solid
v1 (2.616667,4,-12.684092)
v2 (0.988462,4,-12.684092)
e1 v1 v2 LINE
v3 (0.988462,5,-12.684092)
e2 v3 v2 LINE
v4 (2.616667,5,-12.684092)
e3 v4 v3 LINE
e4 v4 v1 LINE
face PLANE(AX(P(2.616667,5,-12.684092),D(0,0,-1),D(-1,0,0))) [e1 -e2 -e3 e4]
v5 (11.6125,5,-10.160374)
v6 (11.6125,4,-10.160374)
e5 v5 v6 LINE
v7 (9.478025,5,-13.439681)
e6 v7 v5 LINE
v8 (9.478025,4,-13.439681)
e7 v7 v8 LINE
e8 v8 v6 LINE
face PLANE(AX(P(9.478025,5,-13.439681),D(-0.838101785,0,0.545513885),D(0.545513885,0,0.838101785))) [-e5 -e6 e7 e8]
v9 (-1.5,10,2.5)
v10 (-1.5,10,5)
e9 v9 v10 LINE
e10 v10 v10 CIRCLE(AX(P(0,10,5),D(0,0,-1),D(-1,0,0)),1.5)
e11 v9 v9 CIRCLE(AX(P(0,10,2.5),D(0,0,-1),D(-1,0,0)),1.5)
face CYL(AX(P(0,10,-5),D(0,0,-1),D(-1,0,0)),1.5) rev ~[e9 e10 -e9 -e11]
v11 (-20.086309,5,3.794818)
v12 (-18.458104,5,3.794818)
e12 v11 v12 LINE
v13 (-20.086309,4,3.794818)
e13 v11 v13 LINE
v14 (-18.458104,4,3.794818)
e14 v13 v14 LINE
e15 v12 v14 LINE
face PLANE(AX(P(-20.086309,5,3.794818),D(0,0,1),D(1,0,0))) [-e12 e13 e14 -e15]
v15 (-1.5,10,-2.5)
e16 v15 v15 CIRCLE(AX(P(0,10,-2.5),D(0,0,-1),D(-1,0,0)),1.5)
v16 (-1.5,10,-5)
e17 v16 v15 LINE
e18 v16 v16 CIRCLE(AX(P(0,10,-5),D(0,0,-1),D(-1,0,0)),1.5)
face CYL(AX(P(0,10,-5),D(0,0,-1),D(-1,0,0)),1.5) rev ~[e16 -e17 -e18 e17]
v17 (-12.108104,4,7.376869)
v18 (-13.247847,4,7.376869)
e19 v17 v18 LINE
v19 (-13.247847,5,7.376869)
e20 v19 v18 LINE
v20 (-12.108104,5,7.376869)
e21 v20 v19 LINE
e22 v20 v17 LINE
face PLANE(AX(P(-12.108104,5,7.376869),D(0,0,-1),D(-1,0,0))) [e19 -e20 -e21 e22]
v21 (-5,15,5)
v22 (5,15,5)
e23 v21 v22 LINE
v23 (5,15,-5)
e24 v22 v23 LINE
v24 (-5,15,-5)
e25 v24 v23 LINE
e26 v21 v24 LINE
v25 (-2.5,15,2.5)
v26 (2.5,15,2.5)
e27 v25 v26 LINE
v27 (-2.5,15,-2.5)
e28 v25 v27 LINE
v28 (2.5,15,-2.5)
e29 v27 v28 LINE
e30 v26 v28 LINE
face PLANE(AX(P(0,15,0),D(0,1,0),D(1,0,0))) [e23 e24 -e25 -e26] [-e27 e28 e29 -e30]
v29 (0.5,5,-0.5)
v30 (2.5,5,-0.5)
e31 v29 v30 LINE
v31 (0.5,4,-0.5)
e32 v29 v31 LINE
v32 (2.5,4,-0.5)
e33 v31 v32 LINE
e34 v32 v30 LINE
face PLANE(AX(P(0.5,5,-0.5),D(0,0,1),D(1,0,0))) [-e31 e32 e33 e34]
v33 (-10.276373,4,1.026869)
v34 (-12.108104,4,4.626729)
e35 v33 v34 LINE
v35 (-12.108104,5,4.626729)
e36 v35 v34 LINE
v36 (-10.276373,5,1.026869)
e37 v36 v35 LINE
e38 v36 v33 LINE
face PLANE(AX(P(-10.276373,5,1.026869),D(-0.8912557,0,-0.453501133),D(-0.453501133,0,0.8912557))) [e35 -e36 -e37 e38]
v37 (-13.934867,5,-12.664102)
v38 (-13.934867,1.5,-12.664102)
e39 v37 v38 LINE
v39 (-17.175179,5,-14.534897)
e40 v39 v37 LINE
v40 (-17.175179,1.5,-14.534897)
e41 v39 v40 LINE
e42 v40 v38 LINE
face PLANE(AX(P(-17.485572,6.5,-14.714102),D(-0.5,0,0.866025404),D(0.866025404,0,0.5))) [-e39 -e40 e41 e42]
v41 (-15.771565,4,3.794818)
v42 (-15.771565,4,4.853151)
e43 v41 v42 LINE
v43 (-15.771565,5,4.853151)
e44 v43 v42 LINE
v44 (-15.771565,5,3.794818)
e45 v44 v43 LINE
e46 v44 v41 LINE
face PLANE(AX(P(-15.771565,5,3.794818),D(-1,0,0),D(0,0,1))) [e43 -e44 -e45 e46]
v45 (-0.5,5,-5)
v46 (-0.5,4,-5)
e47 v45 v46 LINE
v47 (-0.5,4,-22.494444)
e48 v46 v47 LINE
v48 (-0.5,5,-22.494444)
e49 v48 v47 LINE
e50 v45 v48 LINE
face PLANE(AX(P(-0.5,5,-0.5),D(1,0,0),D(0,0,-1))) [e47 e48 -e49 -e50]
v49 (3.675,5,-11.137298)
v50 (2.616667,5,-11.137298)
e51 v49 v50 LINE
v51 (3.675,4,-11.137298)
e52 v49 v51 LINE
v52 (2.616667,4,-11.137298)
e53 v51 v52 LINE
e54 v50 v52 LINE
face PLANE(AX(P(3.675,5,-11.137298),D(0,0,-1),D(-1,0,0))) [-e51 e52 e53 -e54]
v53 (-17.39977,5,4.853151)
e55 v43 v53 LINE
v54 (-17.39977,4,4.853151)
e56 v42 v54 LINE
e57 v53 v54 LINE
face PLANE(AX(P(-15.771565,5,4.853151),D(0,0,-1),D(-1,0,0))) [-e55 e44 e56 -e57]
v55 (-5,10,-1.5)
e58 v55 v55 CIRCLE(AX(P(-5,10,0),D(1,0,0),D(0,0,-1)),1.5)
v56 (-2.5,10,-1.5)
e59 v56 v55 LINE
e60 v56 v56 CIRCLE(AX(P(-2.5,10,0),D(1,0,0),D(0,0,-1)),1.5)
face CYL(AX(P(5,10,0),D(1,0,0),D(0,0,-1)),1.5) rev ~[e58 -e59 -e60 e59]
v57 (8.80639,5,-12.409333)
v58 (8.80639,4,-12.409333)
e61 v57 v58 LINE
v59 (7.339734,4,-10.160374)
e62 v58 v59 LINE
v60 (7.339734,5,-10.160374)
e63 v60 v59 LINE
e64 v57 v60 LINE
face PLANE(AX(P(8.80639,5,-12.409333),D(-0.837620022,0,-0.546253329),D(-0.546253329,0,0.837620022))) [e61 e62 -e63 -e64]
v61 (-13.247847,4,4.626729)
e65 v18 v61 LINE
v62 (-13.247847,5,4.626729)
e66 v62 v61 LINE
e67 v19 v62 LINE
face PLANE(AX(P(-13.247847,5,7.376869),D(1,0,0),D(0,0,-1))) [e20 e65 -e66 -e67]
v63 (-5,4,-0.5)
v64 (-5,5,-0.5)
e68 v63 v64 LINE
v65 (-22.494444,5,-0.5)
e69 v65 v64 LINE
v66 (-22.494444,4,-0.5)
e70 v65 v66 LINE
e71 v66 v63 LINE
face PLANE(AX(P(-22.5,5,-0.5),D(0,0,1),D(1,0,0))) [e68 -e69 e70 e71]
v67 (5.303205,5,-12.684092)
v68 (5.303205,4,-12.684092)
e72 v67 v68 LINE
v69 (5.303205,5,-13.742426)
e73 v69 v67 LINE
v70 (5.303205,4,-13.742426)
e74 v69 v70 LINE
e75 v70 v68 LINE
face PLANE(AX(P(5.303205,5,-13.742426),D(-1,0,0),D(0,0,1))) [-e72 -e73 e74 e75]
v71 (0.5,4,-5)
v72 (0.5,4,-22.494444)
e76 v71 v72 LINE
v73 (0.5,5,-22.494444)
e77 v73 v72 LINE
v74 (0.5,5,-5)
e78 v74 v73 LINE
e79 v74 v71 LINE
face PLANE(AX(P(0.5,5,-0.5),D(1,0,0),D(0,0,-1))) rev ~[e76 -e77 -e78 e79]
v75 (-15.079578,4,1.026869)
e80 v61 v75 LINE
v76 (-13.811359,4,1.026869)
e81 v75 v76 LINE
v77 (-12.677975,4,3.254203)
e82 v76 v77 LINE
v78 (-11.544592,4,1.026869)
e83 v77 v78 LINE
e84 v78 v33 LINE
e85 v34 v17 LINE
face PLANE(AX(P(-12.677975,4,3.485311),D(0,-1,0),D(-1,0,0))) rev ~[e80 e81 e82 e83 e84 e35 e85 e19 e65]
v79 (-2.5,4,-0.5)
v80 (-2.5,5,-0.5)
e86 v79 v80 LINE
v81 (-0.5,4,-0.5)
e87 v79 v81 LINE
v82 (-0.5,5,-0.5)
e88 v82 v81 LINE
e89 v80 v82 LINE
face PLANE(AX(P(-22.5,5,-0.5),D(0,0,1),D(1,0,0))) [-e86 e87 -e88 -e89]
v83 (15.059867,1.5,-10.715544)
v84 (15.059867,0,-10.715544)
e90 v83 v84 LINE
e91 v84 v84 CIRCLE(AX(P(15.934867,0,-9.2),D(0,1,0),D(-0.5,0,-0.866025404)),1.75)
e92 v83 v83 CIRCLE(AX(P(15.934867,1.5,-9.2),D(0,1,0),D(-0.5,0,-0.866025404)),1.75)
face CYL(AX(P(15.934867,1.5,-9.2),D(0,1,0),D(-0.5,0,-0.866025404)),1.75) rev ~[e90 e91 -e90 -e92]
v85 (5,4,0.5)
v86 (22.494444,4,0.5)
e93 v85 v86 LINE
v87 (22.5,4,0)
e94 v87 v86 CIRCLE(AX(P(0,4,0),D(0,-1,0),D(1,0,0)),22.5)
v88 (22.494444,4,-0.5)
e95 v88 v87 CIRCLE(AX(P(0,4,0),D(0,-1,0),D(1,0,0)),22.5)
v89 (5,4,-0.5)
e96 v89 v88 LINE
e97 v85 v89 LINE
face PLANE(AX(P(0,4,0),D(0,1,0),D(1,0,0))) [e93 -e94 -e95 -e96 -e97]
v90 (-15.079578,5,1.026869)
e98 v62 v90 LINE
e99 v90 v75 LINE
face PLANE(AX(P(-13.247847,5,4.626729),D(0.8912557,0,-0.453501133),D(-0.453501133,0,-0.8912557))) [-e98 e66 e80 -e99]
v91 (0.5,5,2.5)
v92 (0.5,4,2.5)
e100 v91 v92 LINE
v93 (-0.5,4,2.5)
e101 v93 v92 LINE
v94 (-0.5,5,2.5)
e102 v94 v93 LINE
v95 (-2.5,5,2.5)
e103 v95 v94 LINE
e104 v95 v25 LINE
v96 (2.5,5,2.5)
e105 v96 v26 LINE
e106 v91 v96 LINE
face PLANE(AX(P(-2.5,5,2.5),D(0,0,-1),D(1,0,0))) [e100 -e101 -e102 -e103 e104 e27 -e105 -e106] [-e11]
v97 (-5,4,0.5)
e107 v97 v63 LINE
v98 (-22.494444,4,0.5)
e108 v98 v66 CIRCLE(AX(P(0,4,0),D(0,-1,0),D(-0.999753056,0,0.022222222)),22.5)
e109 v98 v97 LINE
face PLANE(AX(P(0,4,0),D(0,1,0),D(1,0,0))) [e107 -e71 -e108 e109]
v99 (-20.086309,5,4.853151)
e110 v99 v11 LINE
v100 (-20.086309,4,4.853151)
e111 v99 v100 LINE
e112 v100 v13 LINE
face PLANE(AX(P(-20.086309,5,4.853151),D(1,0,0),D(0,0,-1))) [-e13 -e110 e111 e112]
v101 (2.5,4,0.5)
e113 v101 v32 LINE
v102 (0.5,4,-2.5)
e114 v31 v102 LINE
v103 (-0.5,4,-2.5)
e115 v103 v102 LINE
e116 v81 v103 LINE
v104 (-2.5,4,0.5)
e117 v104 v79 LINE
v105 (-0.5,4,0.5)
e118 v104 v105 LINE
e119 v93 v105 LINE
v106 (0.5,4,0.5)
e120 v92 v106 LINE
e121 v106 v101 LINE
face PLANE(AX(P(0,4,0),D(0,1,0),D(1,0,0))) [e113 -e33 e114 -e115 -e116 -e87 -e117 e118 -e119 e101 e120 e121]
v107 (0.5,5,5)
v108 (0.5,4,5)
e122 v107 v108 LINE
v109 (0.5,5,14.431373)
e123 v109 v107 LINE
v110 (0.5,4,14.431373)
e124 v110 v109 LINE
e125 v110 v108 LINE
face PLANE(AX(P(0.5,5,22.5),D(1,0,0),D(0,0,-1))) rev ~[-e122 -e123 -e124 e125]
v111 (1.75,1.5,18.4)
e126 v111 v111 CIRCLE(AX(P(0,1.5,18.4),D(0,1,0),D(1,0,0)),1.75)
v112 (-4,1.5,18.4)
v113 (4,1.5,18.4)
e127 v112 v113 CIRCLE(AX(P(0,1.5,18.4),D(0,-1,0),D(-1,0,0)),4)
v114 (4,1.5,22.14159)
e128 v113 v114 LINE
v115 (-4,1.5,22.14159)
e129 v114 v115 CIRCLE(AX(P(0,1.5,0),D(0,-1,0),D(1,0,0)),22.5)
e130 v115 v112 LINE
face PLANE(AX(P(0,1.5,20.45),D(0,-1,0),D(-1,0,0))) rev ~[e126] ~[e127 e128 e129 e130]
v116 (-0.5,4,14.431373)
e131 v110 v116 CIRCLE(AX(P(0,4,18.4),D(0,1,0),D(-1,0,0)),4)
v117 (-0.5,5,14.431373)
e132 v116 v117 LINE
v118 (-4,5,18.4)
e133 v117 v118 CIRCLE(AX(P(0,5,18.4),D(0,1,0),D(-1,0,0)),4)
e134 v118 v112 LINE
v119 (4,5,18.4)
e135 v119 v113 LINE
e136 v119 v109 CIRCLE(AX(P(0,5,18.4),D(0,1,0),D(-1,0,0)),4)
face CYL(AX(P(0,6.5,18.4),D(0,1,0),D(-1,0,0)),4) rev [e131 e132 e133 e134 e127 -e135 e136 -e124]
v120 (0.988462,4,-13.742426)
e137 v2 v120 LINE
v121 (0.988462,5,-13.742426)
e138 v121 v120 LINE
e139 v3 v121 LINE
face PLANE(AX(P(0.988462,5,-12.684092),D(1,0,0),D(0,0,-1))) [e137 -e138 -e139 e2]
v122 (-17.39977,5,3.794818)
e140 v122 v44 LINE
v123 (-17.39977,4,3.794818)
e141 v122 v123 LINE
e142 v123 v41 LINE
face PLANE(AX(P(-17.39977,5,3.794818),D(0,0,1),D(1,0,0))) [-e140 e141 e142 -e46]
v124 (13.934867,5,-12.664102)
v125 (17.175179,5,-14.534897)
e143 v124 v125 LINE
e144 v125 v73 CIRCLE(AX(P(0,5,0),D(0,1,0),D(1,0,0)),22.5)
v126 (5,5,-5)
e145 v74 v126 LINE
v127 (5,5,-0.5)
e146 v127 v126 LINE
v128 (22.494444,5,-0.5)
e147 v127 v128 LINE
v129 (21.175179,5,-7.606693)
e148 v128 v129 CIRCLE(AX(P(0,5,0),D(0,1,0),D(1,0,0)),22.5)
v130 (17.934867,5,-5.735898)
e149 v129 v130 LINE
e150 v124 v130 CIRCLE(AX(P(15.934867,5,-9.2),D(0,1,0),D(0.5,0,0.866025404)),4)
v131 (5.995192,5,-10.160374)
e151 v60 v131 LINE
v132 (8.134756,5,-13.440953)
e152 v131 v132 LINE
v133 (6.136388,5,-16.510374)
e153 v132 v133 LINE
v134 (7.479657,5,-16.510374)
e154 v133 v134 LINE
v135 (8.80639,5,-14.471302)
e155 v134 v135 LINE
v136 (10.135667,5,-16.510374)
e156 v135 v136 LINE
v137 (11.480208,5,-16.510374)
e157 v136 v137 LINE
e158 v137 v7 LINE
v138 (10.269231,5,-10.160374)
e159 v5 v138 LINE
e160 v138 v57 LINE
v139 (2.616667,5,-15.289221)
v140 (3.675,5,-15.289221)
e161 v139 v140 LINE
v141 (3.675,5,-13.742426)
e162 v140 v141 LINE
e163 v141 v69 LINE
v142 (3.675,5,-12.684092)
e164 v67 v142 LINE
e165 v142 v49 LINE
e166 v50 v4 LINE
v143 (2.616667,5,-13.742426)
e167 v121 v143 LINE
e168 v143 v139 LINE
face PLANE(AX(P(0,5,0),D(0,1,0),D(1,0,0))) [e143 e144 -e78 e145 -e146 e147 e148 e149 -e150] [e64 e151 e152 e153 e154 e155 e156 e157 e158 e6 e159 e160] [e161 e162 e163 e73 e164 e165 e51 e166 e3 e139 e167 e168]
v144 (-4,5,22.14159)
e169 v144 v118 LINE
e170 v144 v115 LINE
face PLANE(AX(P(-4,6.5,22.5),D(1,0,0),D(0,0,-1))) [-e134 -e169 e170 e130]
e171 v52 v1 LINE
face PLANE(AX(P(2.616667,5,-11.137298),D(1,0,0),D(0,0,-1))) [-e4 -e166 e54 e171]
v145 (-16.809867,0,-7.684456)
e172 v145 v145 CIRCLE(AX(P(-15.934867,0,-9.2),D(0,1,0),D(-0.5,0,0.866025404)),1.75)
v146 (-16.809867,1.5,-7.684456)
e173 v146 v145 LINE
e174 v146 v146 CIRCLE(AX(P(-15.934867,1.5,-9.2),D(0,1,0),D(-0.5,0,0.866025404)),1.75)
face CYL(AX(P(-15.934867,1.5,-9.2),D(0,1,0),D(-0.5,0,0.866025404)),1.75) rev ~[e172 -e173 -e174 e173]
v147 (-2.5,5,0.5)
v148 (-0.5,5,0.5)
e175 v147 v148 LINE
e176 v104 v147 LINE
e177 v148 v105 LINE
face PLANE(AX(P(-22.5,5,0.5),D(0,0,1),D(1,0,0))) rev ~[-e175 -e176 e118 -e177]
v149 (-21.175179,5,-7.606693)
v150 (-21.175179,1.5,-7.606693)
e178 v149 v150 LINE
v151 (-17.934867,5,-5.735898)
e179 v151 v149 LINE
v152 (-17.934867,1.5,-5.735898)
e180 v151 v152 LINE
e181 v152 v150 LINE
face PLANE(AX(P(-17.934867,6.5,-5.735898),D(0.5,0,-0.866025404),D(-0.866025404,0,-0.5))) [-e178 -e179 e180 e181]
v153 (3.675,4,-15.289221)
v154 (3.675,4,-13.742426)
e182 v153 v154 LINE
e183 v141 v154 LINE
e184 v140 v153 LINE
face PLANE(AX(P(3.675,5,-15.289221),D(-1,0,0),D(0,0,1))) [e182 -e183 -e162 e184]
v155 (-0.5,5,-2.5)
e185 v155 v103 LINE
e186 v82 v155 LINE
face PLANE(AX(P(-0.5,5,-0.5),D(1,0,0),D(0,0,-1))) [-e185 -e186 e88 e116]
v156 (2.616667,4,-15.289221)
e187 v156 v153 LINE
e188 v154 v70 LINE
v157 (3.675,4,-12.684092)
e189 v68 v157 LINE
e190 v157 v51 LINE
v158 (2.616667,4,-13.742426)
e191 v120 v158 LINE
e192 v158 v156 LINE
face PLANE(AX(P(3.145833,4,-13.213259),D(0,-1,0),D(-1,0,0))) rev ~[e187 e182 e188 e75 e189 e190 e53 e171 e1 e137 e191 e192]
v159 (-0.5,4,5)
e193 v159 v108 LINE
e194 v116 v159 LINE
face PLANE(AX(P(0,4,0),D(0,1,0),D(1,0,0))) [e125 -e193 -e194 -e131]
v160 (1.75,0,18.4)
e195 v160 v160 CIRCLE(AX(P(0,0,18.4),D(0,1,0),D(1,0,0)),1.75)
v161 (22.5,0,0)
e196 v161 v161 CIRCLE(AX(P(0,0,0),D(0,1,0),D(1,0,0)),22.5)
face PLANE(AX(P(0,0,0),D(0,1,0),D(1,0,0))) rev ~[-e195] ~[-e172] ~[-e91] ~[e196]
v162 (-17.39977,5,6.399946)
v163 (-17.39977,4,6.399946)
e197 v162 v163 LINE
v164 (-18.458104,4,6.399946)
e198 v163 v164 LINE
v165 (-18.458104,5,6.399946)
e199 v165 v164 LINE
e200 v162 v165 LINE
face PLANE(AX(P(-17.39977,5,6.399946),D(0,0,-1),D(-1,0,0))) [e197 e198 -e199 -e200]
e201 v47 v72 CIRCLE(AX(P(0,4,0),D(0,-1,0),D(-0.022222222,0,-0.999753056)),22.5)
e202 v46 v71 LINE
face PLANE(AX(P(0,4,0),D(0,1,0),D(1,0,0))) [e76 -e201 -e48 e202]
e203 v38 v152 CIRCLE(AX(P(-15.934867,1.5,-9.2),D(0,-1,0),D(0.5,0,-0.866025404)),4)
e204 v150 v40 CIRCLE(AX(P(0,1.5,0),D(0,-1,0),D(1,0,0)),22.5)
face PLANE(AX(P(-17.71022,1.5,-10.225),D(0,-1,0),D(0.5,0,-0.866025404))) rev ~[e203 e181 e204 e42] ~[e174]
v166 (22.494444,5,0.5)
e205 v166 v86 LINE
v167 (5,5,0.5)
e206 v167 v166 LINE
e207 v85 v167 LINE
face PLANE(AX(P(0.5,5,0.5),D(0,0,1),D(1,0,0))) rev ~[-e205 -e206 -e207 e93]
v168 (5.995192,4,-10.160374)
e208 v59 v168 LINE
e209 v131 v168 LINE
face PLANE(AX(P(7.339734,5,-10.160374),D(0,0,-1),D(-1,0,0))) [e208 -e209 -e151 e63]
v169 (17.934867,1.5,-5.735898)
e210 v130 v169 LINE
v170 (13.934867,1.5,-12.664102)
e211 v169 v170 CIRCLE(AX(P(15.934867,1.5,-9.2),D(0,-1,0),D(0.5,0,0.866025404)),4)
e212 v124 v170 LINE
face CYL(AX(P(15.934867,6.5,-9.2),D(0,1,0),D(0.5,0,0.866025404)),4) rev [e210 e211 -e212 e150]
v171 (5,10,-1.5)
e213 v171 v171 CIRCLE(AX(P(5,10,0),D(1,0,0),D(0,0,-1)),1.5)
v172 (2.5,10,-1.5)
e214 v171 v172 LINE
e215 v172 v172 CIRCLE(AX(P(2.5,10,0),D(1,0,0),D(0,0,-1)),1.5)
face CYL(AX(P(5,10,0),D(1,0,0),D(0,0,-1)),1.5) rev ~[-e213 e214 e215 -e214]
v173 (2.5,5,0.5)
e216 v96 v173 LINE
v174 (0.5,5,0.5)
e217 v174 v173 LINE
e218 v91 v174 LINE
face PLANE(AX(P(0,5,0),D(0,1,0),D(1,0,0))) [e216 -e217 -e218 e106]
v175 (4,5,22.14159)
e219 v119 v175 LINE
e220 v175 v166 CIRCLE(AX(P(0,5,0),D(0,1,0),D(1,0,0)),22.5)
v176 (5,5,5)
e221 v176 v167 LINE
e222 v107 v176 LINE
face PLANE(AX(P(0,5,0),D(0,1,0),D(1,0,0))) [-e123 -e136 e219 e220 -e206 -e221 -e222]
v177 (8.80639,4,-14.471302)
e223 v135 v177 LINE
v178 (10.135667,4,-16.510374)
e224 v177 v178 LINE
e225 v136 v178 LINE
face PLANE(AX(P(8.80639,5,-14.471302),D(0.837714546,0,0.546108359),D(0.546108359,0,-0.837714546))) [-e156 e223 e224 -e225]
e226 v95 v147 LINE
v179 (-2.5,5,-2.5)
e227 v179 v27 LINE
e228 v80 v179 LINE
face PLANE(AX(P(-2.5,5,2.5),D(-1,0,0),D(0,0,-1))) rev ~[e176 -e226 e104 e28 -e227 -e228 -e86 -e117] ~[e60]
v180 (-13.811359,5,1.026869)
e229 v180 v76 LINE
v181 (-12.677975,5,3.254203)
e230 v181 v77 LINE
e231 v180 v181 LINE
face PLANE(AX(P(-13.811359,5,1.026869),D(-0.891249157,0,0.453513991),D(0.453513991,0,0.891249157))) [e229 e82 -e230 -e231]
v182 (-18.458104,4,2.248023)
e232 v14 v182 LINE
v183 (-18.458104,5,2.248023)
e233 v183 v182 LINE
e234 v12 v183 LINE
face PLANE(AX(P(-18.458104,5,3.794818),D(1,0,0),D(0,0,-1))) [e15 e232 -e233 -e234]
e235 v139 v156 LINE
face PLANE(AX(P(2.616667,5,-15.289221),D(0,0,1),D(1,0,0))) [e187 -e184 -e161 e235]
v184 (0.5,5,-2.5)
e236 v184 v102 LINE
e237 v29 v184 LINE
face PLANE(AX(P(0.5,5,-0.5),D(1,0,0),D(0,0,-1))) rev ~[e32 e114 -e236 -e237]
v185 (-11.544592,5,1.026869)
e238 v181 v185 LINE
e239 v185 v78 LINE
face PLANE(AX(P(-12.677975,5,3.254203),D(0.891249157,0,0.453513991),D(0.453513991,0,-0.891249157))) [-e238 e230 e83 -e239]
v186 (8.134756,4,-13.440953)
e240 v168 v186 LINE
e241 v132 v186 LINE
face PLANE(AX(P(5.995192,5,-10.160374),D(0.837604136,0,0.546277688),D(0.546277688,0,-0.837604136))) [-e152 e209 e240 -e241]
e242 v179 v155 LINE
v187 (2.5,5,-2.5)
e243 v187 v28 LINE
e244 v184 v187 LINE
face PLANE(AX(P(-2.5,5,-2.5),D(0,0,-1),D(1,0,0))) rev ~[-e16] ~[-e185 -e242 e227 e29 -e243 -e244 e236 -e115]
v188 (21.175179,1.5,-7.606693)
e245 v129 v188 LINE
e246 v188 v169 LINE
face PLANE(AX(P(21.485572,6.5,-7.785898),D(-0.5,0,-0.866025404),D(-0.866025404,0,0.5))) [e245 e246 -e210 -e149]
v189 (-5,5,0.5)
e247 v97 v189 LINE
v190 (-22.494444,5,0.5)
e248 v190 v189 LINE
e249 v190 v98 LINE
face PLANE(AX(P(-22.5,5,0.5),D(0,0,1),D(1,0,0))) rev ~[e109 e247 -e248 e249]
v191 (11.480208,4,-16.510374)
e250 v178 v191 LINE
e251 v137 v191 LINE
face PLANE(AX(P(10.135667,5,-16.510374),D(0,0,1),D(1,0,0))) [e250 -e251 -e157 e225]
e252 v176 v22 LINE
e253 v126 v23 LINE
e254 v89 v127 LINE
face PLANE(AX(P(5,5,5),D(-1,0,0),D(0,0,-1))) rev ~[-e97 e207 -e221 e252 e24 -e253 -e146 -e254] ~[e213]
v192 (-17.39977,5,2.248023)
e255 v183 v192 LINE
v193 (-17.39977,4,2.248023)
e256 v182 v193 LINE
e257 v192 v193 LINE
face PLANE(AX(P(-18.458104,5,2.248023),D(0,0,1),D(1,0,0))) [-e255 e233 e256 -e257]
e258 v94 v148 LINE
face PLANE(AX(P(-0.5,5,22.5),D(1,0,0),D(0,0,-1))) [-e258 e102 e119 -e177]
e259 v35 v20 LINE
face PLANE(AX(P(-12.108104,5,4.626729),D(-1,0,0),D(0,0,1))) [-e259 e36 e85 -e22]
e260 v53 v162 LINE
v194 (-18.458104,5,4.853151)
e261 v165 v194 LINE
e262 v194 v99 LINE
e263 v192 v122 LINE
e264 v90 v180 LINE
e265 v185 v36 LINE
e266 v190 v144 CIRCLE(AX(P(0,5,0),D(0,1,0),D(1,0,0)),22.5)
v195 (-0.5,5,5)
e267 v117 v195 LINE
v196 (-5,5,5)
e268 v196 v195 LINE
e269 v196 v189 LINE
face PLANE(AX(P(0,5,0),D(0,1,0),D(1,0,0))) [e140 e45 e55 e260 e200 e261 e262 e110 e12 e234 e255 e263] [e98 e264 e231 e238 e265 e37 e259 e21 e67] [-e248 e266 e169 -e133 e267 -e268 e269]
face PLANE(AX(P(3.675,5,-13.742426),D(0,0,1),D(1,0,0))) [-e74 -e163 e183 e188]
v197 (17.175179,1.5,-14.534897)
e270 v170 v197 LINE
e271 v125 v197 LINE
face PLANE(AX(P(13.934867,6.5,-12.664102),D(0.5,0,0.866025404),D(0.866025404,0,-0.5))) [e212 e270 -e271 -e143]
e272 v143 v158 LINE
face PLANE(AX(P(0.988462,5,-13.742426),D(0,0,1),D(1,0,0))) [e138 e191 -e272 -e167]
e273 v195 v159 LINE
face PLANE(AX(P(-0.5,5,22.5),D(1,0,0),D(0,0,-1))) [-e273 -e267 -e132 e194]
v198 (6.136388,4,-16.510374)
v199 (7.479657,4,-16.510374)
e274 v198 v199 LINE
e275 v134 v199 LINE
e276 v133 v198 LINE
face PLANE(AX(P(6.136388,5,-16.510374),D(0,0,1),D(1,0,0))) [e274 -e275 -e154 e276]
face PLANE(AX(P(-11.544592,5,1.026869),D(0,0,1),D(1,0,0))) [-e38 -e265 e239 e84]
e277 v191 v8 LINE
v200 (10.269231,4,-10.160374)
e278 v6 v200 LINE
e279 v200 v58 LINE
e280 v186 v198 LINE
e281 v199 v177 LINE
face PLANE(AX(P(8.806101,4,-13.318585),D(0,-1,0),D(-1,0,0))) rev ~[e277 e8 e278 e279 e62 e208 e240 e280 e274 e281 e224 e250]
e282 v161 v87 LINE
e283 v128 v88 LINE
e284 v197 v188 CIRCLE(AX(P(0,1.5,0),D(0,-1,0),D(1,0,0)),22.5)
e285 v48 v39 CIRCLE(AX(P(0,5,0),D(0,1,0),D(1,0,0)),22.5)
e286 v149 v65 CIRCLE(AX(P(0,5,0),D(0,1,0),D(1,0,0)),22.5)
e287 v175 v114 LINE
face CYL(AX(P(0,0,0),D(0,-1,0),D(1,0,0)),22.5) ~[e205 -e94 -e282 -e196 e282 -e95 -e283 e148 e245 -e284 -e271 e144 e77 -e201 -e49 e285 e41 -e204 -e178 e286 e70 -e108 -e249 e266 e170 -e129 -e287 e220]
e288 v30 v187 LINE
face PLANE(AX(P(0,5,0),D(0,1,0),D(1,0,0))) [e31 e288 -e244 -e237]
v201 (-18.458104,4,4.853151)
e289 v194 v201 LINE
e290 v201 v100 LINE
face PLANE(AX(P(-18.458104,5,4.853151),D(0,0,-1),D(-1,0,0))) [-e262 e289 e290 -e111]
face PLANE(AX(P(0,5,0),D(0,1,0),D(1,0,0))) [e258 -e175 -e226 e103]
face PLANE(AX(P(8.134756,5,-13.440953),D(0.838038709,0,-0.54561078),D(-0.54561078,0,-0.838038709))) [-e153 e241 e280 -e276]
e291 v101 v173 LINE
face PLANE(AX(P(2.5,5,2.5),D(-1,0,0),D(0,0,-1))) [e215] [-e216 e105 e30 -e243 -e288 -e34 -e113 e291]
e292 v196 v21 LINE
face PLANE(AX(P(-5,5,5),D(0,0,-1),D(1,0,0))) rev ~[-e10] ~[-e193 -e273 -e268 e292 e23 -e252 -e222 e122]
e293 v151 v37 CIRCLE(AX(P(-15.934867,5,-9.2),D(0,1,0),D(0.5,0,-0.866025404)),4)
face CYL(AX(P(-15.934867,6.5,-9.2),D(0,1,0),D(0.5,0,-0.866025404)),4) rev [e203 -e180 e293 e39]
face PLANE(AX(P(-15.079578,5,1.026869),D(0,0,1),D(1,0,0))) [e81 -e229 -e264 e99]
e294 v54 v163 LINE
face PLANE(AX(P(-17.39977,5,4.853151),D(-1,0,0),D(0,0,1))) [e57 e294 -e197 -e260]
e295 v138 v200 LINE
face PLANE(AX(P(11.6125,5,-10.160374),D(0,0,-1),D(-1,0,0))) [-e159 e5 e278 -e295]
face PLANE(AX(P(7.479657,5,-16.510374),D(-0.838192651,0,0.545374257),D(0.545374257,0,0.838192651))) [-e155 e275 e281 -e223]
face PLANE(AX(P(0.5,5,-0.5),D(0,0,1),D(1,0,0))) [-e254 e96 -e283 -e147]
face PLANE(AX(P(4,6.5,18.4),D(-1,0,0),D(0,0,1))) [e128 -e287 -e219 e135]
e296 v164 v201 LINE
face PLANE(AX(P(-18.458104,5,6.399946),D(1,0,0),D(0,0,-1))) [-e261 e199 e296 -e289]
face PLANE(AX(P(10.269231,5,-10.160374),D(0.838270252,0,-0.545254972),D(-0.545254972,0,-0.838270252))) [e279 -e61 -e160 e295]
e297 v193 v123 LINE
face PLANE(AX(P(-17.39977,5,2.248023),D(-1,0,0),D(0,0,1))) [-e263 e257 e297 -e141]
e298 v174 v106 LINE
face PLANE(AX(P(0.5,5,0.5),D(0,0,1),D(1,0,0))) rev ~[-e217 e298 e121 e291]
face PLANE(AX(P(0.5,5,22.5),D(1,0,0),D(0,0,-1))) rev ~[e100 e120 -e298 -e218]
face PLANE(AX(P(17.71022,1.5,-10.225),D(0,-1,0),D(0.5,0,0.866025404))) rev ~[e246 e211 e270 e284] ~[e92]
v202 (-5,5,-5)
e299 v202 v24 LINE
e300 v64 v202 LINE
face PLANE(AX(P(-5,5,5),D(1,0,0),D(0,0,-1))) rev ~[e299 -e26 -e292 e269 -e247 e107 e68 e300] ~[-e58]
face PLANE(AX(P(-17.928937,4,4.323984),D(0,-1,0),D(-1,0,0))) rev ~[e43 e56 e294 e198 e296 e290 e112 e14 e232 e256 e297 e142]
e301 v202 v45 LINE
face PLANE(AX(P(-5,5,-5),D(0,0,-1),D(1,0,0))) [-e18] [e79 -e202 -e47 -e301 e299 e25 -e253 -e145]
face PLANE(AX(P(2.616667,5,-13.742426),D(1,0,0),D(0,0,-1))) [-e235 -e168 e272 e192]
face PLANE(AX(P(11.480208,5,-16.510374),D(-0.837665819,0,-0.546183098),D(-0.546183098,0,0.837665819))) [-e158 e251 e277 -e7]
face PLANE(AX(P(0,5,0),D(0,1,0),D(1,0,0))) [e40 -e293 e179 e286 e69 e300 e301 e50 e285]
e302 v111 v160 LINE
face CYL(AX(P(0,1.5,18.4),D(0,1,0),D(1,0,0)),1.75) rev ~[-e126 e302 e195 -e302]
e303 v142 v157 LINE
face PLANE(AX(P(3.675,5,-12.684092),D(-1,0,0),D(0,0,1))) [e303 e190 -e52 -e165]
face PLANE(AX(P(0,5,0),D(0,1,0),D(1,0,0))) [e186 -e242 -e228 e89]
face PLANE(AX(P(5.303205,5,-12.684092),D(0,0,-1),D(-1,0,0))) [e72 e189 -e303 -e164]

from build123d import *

# Parameters (mm, degrees)
SKETCH1_R                     = 22.5
PLATE_DEPTH                   = 5
OPENING_START                 = 1.5
OPENING_FOR_SCREW_DEPTH       = 5
SKETCH7_R                     = 1.75
SCREW_HOLE_DEPTH              = 5
CIRPATTERN20_COUNT            = 3
SKETCH10_W                    = 45
SKETCH10_H                    = 1
SKETCH10_W_2                  = 1
SKETCH10_H_2                  = 45
CUT_EXTRUDE5_DEPTH            = 1
CUT_EXTRUDE6_DEPTH            = 1
SKETCH12_W                    = 10
SKETCH12_H                    = 10
SKETCH12_W_2                  = 5
SKETCH12_H_2                  = 5
TOOL_CONNECT_PIECE_DEPTH      = 10
TOOL_CONNECT_PIECE_DEPTH_BACK = 1
SKETCH14_R                    = 1.5
CUT_EXTRUDE8_DEPTH            = 10
SKETCH15_R                    = 1.5
CUT_EXTRUDE9_DEPTH            = 28.5


with BuildPart() as part:
    # Sketch1 → plate (new body)
    with BuildSketch(Plane(origin=(0, 0, 0), x_dir=(1, 0, 0), z_dir=(0, 1, 0))):
        Circle(SKETCH1_R)
    extrude(amount=PLATE_DEPTH)

    # Sketch6 → opening for screw (cut)
    with BuildSketch(Plane(origin=(0, 5, 0), x_dir=(1, 0, 0), z_dir=(0, 1, 0)).offset(OPENING_START)):
        with BuildLine():
            Line((-4, -22.5), (-4, -18.4))
            ThreePointArc((-4, -18.4), (0, -14.4), (4, -18.4))
            Line((4, -18.4), (4, -22.5))
            ThreePointArc((4, -22.5), (0, -26.5), (-4, -22.5))
        make_face()
    opening_for_screw = extrude(amount=-OPENING_FOR_SCREW_DEPTH, mode=Mode.SUBTRACT)

    # Sketch7 → screw hole (cut)
    with BuildSketch(Plane(origin=(0, 1.5, 0), x_dir=(1, 0, 0), z_dir=(0, 1, 0))):
        with Locations((0, -18.4)):
            Circle(SKETCH7_R)
    screw_hole = extrude(amount=-SCREW_HOLE_DEPTH, mode=Mode.SUBTRACT)

    # CirPattern20: opening for screw, screw hole ×3 about axis
    cirpattern20_axis = Axis((0, 0, 0), (0, 1, 0))
    for i in range(1, CIRPATTERN20_COUNT):
        add(opening_for_screw.rotate(cirpattern20_axis, i * 360 / CIRPATTERN20_COUNT), mode=Mode.SUBTRACT)
        add(screw_hole.rotate(cirpattern20_axis, i * 360 / CIRPATTERN20_COUNT), mode=Mode.SUBTRACT)

    # Sketch10 → Cut-Extrude5 (cut)
    with BuildSketch(Plane(origin=(0, 5, 0), x_dir=(1, 0, 0), z_dir=(0, 1, 0))):
        Rectangle(SKETCH10_W, SKETCH10_H)
        Rectangle(SKETCH10_W_2, SKETCH10_H_2)
    extrude(amount=-CUT_EXTRUDE5_DEPTH, mode=Mode.SUBTRACT)

    # Sketch11 → Cut-Extrude6 (cut)
    with BuildSketch(Plane(origin=(0, 5, 0), x_dir=(1, 0, 0), z_dir=(0, 1, 0))):
        Polygon((2.616666667, 13.742425761), (2.616666667, 15.289220632), (3.675, 15.289220632), (3.675, 13.742425761), (5.303205128, 13.742425761), (5.303205128, 12.684092427), (3.675, 12.684092427), (3.675, 11.137297556), (2.616666667, 11.137297556), (2.616666667, 12.684092427), (0.988461538, 12.684092427), (0.988461538, 13.742425761), align=None)
        Polygon((6.136388221, 16.510374479), (7.479657452, 16.510374479), (8.806390224, 14.471301963), (10.135667067, 16.510374479), (11.480208333, 16.510374479), (9.47802484, 13.43968137), (11.6125, 10.160374479), (10.269230769, 10.160374479), (8.806390224, 12.409332812), (7.339733574, 10.160374479), (5.995192308, 10.160374479), (8.134755609, 13.440953405), align=None)
        Polygon((-18.458103671, -3.794817635), (-18.458103671, -2.248022763), (-17.399770338, -2.248022763), (-17.399770338, -3.794817635), (-15.771565209, -3.794817635), (-15.771565209, -4.853150968), (-17.399770338, -4.853150968), (-17.399770338, -6.39994584), (-18.458103671, -6.39994584), (-18.458103671, -4.853150968), (-20.086308799, -4.853150968), (-20.086308799, -3.794817635), align=None)
        Polygon((-15.07957803, -1.026868917), (-13.811358879, -1.026868917), (-12.677975466, -3.254202651), (-11.544592052, -1.026868917), (-10.276372902, -1.026868917), (-12.108103671, -4.626728693), (-12.108103671, -7.376868917), (-13.247847261, -7.376868917), (-13.247847261, -4.626728693), align=None)
    extrude(amount=-CUT_EXTRUDE6_DEPTH, mode=Mode.SUBTRACT)

    # Sketch12 → tool connect piece (add, two sides)
    with BuildSketch(Plane(origin=(0, 5, 0), x_dir=(1, 0, 0), z_dir=(0, 1, 0))) as tool_connect_piece_sk:
        Rectangle(SKETCH12_W, SKETCH12_H)
        Rectangle(SKETCH12_W_2, SKETCH12_H_2, mode=Mode.SUBTRACT)
    extrude(amount=TOOL_CONNECT_PIECE_DEPTH)
    extrude(tool_connect_piece_sk.sketch, amount=-TOOL_CONNECT_PIECE_DEPTH_BACK)

    # Sketch14 → Cut-Extrude8 (cut)
    with BuildSketch(Plane(origin=(0, 0, -5), x_dir=(-1, 0, 0), z_dir=(0, 0, -1))):
        with Locations((0, 10)):
            Circle(SKETCH14_R)
    extrude(amount=-CUT_EXTRUDE8_DEPTH, mode=Mode.SUBTRACT)

    # Sketch15 → Cut-Extrude9 (cut, through all)
    with BuildSketch(Plane(origin=(5, 0, 0), x_dir=(0, 0, -1), z_dir=(1, 0, 0))):
        with Locations((0, 10)):
            Circle(SKETCH15_R)
    extrude(amount=-CUT_EXTRUDE9_DEPTH, mode=Mode.SUBTRACT)


solid = part.part
